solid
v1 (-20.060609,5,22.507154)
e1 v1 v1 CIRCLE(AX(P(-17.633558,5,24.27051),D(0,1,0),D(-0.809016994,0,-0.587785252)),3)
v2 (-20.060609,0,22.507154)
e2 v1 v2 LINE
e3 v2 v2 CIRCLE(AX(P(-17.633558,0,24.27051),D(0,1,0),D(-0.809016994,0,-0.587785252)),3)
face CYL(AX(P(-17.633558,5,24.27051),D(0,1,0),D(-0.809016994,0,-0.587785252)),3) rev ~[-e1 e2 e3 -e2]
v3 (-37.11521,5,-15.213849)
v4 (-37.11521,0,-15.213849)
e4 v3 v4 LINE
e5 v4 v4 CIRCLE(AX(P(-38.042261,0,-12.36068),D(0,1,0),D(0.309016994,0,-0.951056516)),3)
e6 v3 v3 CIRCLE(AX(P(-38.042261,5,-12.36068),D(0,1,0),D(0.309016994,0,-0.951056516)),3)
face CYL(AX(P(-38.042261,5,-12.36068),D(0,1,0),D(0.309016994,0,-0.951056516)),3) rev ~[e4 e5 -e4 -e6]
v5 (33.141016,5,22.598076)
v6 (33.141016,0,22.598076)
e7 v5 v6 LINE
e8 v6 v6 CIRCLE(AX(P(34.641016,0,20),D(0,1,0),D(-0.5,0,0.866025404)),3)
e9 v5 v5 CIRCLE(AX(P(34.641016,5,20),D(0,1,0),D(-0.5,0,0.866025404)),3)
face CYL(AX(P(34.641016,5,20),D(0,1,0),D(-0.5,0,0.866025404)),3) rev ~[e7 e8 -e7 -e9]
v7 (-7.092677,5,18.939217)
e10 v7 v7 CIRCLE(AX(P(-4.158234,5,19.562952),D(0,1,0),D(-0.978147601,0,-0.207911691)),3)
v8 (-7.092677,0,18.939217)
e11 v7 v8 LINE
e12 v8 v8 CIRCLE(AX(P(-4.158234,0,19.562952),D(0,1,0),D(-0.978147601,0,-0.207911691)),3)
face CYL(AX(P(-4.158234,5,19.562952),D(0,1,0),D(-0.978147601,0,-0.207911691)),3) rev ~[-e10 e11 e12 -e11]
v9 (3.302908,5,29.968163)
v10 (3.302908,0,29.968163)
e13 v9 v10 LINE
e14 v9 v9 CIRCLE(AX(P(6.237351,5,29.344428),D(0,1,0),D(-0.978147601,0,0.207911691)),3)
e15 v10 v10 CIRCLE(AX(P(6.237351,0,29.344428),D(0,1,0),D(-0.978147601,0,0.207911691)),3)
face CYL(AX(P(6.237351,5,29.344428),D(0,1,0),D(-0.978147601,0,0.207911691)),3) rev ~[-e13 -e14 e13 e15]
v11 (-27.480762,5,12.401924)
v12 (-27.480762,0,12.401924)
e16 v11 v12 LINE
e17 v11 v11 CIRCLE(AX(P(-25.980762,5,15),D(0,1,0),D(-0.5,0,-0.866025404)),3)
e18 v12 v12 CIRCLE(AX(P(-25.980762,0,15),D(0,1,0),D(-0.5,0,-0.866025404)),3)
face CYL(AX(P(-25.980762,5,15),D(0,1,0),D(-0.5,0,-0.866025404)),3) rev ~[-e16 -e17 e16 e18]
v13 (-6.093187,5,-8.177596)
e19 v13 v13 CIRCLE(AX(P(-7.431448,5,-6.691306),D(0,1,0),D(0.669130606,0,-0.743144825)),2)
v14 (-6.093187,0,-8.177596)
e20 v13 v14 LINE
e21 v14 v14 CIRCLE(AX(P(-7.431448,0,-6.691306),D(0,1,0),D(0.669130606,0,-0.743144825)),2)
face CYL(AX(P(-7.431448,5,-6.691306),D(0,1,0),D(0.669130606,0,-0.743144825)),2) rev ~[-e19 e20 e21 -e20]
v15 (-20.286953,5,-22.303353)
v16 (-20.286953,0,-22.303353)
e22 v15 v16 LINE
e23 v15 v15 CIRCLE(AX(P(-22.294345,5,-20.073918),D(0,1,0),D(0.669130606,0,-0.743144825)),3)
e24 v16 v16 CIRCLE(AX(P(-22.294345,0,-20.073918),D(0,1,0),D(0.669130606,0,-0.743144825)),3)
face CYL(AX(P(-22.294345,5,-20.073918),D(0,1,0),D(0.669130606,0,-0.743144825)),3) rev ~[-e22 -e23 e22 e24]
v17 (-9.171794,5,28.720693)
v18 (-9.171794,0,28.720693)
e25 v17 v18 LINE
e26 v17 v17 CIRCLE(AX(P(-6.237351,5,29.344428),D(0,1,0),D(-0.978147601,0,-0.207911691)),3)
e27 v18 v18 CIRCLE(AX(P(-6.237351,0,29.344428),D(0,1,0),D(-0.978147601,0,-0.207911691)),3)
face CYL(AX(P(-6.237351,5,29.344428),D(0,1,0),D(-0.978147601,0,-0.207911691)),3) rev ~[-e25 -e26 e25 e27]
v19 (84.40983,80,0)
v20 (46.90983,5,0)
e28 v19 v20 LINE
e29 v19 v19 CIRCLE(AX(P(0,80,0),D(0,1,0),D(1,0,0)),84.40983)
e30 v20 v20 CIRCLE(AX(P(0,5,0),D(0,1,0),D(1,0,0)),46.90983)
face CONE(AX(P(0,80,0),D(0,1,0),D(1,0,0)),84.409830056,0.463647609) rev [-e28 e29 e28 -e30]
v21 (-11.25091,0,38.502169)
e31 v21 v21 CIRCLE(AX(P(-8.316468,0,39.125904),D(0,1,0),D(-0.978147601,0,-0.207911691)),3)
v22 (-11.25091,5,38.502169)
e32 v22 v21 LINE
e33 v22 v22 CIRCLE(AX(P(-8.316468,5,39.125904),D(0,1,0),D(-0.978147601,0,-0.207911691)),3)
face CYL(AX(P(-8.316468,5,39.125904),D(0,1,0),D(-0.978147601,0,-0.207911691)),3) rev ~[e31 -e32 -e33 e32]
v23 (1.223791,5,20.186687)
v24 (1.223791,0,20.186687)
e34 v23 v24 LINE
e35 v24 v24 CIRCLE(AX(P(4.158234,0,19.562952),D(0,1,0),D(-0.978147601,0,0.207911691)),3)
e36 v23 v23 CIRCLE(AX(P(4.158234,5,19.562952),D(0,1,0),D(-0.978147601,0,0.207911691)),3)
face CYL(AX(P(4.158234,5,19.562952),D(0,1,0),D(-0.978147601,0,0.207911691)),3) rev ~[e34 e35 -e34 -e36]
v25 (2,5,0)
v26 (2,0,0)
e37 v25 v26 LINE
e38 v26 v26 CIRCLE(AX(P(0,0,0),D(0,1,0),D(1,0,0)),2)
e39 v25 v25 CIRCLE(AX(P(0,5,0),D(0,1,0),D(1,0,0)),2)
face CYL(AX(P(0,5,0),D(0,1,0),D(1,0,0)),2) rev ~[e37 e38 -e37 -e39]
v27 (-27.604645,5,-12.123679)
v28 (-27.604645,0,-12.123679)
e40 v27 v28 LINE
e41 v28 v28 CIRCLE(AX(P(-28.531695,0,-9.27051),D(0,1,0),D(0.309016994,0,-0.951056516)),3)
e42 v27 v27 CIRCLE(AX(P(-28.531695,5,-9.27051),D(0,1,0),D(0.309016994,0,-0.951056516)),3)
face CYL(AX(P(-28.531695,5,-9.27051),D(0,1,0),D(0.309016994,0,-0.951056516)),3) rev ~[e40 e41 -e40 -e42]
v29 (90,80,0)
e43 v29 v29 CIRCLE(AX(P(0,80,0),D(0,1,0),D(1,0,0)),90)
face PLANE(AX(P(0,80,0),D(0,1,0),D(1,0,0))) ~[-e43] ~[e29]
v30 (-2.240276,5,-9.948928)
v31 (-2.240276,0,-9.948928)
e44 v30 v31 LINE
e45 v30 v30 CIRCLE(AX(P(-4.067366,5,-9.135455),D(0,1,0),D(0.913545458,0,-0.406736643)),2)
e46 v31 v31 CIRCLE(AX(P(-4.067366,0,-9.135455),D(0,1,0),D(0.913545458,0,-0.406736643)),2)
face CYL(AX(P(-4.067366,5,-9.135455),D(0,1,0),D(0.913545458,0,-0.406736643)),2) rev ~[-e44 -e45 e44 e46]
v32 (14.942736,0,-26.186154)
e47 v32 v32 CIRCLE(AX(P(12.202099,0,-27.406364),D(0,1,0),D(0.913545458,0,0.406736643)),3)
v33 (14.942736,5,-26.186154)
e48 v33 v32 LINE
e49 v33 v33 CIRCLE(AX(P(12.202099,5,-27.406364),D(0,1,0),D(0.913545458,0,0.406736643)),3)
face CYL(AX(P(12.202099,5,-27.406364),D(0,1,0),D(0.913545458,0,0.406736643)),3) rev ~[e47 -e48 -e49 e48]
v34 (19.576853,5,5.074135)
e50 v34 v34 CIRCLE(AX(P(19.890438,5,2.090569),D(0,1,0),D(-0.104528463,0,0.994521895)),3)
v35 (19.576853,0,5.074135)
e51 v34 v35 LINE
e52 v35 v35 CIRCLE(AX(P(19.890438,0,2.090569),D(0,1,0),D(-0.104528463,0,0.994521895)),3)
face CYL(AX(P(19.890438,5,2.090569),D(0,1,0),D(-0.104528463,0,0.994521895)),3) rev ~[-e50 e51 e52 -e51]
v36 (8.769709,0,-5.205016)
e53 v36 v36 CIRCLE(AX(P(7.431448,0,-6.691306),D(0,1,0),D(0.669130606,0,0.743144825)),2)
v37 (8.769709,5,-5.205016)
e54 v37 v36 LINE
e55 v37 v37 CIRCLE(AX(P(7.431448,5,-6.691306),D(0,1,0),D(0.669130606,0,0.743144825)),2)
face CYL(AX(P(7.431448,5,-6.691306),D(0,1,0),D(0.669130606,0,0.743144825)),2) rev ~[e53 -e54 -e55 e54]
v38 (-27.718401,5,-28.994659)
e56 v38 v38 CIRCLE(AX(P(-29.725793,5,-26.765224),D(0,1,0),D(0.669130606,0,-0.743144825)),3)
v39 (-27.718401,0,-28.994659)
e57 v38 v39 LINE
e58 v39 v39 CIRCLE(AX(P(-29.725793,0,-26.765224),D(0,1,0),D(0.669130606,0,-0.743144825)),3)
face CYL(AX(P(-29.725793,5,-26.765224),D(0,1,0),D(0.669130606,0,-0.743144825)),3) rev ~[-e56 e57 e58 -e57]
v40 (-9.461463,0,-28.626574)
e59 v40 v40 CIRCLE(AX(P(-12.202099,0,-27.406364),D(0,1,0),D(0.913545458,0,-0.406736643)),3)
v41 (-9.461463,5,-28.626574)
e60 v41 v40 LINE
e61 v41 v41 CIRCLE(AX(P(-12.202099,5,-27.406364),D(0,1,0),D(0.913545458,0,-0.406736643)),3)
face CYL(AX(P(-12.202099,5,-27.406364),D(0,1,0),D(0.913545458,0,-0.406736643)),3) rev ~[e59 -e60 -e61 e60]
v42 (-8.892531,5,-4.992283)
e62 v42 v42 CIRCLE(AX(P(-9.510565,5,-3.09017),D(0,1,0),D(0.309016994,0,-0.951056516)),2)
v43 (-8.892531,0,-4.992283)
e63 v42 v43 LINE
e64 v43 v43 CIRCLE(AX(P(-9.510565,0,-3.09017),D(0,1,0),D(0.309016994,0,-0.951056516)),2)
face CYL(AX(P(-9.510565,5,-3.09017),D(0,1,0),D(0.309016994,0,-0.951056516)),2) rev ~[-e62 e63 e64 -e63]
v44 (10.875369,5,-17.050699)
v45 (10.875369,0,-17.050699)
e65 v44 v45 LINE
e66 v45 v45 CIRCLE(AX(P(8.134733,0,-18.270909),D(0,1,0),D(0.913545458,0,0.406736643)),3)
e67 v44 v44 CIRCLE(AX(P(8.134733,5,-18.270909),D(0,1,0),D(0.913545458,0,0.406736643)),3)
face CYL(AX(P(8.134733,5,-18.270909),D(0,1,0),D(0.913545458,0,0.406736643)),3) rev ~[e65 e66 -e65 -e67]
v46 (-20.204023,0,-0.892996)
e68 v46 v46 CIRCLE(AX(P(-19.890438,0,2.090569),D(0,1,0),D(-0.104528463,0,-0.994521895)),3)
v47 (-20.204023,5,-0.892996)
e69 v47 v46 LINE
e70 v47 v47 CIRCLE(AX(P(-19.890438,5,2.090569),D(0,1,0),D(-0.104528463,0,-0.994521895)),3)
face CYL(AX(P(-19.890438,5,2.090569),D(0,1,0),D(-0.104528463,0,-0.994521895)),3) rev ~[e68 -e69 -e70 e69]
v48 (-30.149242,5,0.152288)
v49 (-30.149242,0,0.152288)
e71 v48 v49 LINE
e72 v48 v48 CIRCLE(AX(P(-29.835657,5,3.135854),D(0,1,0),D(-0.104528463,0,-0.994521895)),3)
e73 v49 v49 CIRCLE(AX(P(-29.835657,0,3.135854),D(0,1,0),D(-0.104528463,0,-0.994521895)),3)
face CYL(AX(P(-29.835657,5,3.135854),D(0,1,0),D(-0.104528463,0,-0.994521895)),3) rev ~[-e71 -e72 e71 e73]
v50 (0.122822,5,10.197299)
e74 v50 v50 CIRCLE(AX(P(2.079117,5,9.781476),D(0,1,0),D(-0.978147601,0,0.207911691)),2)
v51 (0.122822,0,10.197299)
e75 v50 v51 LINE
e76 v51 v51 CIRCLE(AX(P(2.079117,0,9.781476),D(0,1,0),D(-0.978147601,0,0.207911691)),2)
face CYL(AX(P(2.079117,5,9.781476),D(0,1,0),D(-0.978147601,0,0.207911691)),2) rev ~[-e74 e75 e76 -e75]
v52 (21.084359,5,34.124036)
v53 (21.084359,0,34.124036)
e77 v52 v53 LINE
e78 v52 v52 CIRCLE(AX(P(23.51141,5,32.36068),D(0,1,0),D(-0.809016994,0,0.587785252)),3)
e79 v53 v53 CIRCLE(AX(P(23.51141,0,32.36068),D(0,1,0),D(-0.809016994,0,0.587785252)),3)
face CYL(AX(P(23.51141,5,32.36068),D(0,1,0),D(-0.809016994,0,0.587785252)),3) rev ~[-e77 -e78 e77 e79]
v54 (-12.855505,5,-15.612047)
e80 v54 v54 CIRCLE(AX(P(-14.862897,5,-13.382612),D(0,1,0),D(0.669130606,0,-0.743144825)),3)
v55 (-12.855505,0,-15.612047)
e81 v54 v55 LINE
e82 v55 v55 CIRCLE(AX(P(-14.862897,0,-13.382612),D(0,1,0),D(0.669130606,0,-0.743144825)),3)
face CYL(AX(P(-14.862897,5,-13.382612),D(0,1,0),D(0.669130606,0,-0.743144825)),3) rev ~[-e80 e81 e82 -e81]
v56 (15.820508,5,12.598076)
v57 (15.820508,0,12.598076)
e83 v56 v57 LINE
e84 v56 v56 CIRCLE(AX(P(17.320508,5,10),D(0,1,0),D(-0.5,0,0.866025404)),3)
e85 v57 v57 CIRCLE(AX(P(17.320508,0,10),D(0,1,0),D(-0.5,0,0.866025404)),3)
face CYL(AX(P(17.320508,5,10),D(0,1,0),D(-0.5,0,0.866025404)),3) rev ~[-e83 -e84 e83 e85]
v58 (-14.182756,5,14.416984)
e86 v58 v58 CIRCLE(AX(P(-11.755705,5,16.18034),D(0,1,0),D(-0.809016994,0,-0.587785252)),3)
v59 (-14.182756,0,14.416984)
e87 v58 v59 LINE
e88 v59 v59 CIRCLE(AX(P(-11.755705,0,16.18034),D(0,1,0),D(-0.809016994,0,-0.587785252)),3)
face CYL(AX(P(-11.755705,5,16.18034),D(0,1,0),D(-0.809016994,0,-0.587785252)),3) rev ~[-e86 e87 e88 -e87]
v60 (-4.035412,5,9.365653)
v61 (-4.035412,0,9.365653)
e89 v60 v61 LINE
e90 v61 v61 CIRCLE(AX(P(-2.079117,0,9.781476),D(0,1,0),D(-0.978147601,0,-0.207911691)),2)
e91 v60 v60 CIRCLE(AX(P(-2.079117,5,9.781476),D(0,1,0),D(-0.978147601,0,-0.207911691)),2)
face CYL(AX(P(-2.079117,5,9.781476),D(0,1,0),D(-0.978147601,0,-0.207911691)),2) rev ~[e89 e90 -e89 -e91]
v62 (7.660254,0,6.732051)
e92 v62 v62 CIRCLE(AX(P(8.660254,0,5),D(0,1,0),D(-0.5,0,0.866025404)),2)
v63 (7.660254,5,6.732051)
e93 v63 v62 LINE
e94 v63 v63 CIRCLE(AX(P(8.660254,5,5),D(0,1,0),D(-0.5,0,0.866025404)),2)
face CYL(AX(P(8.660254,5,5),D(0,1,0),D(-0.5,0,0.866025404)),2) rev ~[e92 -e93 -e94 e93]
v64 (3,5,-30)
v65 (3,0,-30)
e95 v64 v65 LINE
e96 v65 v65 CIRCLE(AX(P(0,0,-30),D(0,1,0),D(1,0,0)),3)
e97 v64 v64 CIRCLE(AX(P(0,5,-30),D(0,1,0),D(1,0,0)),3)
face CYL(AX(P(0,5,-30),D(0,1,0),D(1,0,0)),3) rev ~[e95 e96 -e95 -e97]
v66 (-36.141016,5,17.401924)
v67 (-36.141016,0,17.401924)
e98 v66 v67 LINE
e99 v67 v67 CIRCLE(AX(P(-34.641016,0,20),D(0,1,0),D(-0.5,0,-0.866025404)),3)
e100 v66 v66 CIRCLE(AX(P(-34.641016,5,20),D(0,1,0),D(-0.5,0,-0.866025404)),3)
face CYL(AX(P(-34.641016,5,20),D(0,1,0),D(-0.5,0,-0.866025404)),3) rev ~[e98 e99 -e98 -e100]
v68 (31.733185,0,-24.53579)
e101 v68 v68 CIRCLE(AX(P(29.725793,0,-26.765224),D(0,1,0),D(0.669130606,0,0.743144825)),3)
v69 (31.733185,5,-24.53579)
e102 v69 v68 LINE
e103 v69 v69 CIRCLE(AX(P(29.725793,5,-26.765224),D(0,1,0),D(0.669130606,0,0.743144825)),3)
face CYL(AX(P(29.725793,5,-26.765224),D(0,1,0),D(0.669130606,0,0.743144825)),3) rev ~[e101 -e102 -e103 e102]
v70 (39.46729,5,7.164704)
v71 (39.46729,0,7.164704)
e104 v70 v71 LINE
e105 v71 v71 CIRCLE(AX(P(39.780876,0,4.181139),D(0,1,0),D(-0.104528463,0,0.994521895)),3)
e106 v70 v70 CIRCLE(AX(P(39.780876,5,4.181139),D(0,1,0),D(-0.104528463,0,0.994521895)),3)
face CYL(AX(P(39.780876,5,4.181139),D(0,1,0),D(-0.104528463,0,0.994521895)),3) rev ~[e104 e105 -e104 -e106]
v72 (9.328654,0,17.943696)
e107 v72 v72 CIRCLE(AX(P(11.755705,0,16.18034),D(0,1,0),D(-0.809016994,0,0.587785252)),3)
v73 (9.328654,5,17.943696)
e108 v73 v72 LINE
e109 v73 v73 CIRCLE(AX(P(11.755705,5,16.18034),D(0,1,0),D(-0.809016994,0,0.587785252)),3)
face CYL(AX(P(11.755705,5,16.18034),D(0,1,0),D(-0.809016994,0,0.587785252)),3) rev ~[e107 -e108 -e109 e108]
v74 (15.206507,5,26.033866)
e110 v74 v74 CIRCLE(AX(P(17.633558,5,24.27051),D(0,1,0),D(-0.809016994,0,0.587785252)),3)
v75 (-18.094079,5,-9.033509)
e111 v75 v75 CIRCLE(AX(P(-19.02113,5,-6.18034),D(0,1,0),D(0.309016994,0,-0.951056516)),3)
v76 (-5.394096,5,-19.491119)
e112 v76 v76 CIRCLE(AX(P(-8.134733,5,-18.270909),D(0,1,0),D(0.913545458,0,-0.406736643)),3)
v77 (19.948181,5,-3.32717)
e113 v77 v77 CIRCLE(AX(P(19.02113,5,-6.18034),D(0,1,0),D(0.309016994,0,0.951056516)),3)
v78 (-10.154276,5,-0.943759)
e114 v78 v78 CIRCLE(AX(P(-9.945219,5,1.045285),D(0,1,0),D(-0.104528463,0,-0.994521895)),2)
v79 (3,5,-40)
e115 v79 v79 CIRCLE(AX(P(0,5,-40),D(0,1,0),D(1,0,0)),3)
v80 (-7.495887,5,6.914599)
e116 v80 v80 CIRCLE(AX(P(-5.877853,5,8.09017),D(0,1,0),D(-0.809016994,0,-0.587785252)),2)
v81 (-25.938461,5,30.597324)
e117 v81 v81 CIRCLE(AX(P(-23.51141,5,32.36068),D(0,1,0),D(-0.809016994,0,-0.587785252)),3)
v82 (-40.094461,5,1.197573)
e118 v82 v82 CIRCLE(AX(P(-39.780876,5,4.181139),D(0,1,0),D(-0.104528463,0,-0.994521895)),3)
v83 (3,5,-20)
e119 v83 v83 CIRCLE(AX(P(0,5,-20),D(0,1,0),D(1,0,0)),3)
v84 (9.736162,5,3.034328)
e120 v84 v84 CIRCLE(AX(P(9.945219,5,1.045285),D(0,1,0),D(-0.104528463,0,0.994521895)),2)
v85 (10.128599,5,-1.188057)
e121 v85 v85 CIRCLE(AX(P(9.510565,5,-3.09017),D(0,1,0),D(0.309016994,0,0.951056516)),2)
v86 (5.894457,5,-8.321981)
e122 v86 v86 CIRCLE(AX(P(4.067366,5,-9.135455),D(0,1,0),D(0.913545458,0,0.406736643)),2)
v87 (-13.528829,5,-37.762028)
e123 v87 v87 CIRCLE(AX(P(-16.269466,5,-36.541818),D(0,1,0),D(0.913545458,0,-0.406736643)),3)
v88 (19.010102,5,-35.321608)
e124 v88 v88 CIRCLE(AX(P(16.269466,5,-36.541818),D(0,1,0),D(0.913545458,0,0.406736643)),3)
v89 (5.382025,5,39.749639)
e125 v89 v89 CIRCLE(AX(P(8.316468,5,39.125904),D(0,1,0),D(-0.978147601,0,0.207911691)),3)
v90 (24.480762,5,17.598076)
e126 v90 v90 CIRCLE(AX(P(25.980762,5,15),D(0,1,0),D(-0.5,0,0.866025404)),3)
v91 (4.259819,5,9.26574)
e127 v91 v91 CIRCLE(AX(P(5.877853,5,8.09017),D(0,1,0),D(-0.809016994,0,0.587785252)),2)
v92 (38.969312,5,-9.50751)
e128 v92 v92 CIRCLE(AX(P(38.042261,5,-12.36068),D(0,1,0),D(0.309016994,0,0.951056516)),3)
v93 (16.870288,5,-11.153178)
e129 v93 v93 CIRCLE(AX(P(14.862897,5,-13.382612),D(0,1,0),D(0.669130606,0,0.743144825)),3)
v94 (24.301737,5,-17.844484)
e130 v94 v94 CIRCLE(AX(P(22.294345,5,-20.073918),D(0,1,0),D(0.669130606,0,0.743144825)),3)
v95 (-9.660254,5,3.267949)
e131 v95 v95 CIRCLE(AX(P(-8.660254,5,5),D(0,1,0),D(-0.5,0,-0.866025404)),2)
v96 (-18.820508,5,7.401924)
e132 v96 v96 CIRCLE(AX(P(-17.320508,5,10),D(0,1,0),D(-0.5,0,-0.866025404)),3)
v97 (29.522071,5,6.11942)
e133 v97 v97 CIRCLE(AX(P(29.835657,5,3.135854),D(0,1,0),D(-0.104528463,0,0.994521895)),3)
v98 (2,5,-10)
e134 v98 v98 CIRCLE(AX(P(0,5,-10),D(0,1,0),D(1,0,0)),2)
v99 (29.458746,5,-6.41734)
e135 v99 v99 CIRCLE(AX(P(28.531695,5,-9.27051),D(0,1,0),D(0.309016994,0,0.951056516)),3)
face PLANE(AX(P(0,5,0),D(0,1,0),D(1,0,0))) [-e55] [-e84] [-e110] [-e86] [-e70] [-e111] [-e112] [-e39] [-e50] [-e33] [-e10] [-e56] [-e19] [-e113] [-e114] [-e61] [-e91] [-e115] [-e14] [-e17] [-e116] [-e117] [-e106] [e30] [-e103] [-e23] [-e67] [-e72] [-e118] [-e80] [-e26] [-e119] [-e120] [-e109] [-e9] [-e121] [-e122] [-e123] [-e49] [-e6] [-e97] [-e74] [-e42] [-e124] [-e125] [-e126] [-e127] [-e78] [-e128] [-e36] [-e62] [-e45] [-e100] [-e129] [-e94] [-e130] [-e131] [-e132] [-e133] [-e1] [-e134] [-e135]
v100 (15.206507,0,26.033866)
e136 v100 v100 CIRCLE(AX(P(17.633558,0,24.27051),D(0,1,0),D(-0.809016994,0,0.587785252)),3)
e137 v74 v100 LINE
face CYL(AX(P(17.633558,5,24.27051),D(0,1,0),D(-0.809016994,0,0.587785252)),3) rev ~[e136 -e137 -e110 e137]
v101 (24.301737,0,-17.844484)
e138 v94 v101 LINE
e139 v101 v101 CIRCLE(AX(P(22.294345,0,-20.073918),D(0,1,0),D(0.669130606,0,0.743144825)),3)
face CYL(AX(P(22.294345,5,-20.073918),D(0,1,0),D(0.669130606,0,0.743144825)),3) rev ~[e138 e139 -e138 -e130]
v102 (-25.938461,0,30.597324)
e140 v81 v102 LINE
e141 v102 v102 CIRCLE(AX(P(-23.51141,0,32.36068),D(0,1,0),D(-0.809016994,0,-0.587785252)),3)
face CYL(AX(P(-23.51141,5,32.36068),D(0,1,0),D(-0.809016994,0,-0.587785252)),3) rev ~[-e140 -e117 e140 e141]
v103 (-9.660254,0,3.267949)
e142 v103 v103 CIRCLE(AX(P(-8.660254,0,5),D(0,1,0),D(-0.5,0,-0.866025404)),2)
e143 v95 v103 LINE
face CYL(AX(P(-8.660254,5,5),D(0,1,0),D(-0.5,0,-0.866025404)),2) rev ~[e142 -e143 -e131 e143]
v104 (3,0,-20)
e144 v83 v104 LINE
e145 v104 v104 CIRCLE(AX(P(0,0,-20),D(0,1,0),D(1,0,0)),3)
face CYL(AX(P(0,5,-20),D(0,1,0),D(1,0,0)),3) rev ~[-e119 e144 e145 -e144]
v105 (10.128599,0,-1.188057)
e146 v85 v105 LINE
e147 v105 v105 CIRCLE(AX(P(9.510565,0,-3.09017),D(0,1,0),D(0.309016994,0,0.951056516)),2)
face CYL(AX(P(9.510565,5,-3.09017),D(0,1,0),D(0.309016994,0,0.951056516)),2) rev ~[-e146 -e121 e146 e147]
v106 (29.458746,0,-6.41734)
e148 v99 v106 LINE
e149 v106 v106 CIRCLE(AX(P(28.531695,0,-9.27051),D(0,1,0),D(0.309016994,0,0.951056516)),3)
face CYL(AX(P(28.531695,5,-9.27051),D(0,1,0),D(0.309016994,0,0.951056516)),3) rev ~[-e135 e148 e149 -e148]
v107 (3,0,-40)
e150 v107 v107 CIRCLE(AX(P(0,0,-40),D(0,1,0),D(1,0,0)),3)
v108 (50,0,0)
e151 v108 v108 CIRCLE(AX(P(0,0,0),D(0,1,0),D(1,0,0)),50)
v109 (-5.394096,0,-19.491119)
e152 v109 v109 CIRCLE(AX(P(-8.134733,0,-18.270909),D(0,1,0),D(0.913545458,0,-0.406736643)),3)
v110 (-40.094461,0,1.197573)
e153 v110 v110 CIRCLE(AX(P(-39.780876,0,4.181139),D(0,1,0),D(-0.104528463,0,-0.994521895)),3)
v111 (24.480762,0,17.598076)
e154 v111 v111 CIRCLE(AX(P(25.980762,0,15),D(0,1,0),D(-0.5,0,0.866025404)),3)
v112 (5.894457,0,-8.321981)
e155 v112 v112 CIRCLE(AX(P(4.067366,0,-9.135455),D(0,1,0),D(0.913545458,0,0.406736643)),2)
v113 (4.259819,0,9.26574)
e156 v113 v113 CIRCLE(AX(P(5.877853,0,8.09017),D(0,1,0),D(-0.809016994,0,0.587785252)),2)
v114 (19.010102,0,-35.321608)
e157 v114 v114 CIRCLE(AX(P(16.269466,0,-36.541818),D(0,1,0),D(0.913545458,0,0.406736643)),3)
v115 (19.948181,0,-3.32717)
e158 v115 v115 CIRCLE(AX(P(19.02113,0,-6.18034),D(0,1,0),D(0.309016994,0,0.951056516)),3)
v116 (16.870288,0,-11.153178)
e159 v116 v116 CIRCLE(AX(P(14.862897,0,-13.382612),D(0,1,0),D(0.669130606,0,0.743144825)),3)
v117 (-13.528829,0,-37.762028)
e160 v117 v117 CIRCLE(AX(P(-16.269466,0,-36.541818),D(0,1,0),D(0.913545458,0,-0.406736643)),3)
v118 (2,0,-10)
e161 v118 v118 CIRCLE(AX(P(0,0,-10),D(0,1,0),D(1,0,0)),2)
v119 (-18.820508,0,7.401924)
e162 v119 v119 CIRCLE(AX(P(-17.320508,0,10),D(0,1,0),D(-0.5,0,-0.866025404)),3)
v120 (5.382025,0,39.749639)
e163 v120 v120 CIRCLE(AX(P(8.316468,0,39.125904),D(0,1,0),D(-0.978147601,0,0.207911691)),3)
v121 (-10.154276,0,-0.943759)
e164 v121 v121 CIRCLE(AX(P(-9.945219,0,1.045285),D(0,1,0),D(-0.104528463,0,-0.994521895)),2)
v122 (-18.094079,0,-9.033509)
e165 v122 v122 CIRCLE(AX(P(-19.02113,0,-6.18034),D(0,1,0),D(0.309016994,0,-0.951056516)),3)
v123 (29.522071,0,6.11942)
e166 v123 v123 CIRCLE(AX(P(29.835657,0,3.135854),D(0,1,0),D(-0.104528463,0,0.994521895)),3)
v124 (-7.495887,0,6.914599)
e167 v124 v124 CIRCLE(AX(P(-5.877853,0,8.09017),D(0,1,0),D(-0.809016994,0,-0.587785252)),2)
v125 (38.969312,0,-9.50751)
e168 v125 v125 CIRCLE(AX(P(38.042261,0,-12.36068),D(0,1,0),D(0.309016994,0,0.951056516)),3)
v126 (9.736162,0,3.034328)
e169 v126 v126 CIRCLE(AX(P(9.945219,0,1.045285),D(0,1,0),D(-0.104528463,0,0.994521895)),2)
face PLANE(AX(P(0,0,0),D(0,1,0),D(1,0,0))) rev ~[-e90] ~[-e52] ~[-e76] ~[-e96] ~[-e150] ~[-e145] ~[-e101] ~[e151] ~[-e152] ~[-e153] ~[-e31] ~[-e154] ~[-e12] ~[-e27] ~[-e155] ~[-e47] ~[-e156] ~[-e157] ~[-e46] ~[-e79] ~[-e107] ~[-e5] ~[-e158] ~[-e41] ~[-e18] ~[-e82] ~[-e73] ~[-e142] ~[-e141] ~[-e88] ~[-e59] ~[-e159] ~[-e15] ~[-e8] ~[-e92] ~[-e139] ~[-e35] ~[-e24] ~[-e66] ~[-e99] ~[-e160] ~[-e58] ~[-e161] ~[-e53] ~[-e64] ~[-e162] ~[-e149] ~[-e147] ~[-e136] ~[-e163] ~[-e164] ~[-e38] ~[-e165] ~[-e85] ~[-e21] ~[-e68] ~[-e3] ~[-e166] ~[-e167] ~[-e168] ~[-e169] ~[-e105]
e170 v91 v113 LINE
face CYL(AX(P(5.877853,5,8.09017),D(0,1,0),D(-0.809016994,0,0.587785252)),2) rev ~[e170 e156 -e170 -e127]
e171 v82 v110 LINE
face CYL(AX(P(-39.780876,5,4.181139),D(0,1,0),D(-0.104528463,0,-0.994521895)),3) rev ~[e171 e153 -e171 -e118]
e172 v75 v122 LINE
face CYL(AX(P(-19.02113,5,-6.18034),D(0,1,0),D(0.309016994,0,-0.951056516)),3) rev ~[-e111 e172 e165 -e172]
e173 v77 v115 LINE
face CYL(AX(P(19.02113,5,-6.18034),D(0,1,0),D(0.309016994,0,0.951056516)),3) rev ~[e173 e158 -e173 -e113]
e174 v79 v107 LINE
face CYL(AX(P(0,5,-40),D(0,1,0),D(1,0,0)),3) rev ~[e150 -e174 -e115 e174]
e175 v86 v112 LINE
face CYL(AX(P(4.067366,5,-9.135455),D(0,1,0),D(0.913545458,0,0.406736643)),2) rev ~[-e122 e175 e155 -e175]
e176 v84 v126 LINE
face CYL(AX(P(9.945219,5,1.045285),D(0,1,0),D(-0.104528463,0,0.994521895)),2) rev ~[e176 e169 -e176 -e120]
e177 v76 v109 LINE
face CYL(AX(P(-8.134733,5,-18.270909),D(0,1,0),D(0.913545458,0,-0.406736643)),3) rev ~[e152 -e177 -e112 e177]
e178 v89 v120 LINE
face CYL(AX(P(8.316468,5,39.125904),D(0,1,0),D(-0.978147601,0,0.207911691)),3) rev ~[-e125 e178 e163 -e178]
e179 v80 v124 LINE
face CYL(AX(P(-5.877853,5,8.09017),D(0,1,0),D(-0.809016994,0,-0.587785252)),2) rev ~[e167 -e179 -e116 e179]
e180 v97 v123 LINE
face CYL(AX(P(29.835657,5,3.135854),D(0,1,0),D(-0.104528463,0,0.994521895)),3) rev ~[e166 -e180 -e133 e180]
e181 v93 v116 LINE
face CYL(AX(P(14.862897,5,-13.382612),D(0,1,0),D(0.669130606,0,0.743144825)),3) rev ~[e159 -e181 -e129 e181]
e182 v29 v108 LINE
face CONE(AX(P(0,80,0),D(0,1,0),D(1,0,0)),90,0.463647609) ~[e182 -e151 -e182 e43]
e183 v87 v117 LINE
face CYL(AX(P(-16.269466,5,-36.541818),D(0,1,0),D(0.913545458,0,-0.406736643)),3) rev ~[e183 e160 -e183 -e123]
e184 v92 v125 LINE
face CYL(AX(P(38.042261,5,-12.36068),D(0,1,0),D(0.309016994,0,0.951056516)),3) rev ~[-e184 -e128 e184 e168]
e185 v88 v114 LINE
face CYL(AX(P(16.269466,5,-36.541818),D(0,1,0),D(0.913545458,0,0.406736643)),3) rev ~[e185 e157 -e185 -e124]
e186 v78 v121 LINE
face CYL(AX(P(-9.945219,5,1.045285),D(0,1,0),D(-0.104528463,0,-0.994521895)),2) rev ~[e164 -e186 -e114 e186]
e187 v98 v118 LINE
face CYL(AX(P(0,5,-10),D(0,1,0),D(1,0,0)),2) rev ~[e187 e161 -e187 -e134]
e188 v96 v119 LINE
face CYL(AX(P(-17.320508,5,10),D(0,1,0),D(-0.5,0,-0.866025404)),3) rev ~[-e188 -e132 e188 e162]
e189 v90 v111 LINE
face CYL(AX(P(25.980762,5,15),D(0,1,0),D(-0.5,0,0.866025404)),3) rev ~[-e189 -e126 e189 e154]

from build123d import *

# Parameters (mm, degrees)
SKETCH3_R          = 3
CUT_EXTRUDE5_DEPTH = 10
CIRPATTERN2_COUNT  = 15
SKETCH4_R          = 3
SKETCH4_R_2        = 2
CUT_EXTRUDE7_DEPTH = 10
CIRPATTERN3_COUNT  = 15


with BuildPart() as part:
    # Sketch1 → Revolve1 (revolve)
    with BuildSketch(Plane.XY):
        Polygon((90, 80), (50, 0), (0, 0), (0, 5), (5, 5), (46.909830056, 5), (81.909830056, 75), (84.409830056, 80), align=None)
    revolve(axis=Axis((0, 0, 0), (0, 1, 0)))

    # Sketch3 → Cut-Extrude5 (cut)
    with BuildSketch(Plane(origin=(0, 5, 0), x_dir=(1, 0, 0), z_dir=(0, 1, 0))):
        with Locations((0, 40)):
            Circle(SKETCH3_R)
    cut_extrude5 = extrude(amount=-CUT_EXTRUDE5_DEPTH, mode=Mode.SUBTRACT)

    # CirPattern2: Cut-Extrude5 ×15 about axis
    cirpattern2_axis = Axis((0, 0, 0), (0, 1, 0))
    for i in range(1, CIRPATTERN2_COUNT):
        add(cut_extrude5.rotate(cirpattern2_axis, i * 360 / CIRPATTERN2_COUNT), mode=Mode.SUBTRACT)

    # Sketch4 → Cut-Extrude7 (cut)
    with BuildSketch(Plane(origin=(0, 5, 0), x_dir=(1, 0, 0), z_dir=(0, 1, 0))):
        with Locations((0, 30)):
            Circle(SKETCH4_R)
        with Locations((0, 20)):
            Circle(SKETCH4_R)
        Circle(SKETCH4_R_2)
        with Locations((0, 10)):
            Circle(SKETCH4_R_2)
    cut_extrude7 = extrude(amount=-CUT_EXTRUDE7_DEPTH, mode=Mode.SUBTRACT)

    # CirPattern3: Cut-Extrude7 ×15 about axis
    cirpattern3_axis = Axis((0, 0, 0), (0, 1, 0))
    for i in range(1, CIRPATTERN3_COUNT):
        add(cut_extrude7.rotate(cirpattern3_axis, i * 360 / CIRPATTERN3_COUNT), mode=Mode.SUBTRACT)


solid = part.part
